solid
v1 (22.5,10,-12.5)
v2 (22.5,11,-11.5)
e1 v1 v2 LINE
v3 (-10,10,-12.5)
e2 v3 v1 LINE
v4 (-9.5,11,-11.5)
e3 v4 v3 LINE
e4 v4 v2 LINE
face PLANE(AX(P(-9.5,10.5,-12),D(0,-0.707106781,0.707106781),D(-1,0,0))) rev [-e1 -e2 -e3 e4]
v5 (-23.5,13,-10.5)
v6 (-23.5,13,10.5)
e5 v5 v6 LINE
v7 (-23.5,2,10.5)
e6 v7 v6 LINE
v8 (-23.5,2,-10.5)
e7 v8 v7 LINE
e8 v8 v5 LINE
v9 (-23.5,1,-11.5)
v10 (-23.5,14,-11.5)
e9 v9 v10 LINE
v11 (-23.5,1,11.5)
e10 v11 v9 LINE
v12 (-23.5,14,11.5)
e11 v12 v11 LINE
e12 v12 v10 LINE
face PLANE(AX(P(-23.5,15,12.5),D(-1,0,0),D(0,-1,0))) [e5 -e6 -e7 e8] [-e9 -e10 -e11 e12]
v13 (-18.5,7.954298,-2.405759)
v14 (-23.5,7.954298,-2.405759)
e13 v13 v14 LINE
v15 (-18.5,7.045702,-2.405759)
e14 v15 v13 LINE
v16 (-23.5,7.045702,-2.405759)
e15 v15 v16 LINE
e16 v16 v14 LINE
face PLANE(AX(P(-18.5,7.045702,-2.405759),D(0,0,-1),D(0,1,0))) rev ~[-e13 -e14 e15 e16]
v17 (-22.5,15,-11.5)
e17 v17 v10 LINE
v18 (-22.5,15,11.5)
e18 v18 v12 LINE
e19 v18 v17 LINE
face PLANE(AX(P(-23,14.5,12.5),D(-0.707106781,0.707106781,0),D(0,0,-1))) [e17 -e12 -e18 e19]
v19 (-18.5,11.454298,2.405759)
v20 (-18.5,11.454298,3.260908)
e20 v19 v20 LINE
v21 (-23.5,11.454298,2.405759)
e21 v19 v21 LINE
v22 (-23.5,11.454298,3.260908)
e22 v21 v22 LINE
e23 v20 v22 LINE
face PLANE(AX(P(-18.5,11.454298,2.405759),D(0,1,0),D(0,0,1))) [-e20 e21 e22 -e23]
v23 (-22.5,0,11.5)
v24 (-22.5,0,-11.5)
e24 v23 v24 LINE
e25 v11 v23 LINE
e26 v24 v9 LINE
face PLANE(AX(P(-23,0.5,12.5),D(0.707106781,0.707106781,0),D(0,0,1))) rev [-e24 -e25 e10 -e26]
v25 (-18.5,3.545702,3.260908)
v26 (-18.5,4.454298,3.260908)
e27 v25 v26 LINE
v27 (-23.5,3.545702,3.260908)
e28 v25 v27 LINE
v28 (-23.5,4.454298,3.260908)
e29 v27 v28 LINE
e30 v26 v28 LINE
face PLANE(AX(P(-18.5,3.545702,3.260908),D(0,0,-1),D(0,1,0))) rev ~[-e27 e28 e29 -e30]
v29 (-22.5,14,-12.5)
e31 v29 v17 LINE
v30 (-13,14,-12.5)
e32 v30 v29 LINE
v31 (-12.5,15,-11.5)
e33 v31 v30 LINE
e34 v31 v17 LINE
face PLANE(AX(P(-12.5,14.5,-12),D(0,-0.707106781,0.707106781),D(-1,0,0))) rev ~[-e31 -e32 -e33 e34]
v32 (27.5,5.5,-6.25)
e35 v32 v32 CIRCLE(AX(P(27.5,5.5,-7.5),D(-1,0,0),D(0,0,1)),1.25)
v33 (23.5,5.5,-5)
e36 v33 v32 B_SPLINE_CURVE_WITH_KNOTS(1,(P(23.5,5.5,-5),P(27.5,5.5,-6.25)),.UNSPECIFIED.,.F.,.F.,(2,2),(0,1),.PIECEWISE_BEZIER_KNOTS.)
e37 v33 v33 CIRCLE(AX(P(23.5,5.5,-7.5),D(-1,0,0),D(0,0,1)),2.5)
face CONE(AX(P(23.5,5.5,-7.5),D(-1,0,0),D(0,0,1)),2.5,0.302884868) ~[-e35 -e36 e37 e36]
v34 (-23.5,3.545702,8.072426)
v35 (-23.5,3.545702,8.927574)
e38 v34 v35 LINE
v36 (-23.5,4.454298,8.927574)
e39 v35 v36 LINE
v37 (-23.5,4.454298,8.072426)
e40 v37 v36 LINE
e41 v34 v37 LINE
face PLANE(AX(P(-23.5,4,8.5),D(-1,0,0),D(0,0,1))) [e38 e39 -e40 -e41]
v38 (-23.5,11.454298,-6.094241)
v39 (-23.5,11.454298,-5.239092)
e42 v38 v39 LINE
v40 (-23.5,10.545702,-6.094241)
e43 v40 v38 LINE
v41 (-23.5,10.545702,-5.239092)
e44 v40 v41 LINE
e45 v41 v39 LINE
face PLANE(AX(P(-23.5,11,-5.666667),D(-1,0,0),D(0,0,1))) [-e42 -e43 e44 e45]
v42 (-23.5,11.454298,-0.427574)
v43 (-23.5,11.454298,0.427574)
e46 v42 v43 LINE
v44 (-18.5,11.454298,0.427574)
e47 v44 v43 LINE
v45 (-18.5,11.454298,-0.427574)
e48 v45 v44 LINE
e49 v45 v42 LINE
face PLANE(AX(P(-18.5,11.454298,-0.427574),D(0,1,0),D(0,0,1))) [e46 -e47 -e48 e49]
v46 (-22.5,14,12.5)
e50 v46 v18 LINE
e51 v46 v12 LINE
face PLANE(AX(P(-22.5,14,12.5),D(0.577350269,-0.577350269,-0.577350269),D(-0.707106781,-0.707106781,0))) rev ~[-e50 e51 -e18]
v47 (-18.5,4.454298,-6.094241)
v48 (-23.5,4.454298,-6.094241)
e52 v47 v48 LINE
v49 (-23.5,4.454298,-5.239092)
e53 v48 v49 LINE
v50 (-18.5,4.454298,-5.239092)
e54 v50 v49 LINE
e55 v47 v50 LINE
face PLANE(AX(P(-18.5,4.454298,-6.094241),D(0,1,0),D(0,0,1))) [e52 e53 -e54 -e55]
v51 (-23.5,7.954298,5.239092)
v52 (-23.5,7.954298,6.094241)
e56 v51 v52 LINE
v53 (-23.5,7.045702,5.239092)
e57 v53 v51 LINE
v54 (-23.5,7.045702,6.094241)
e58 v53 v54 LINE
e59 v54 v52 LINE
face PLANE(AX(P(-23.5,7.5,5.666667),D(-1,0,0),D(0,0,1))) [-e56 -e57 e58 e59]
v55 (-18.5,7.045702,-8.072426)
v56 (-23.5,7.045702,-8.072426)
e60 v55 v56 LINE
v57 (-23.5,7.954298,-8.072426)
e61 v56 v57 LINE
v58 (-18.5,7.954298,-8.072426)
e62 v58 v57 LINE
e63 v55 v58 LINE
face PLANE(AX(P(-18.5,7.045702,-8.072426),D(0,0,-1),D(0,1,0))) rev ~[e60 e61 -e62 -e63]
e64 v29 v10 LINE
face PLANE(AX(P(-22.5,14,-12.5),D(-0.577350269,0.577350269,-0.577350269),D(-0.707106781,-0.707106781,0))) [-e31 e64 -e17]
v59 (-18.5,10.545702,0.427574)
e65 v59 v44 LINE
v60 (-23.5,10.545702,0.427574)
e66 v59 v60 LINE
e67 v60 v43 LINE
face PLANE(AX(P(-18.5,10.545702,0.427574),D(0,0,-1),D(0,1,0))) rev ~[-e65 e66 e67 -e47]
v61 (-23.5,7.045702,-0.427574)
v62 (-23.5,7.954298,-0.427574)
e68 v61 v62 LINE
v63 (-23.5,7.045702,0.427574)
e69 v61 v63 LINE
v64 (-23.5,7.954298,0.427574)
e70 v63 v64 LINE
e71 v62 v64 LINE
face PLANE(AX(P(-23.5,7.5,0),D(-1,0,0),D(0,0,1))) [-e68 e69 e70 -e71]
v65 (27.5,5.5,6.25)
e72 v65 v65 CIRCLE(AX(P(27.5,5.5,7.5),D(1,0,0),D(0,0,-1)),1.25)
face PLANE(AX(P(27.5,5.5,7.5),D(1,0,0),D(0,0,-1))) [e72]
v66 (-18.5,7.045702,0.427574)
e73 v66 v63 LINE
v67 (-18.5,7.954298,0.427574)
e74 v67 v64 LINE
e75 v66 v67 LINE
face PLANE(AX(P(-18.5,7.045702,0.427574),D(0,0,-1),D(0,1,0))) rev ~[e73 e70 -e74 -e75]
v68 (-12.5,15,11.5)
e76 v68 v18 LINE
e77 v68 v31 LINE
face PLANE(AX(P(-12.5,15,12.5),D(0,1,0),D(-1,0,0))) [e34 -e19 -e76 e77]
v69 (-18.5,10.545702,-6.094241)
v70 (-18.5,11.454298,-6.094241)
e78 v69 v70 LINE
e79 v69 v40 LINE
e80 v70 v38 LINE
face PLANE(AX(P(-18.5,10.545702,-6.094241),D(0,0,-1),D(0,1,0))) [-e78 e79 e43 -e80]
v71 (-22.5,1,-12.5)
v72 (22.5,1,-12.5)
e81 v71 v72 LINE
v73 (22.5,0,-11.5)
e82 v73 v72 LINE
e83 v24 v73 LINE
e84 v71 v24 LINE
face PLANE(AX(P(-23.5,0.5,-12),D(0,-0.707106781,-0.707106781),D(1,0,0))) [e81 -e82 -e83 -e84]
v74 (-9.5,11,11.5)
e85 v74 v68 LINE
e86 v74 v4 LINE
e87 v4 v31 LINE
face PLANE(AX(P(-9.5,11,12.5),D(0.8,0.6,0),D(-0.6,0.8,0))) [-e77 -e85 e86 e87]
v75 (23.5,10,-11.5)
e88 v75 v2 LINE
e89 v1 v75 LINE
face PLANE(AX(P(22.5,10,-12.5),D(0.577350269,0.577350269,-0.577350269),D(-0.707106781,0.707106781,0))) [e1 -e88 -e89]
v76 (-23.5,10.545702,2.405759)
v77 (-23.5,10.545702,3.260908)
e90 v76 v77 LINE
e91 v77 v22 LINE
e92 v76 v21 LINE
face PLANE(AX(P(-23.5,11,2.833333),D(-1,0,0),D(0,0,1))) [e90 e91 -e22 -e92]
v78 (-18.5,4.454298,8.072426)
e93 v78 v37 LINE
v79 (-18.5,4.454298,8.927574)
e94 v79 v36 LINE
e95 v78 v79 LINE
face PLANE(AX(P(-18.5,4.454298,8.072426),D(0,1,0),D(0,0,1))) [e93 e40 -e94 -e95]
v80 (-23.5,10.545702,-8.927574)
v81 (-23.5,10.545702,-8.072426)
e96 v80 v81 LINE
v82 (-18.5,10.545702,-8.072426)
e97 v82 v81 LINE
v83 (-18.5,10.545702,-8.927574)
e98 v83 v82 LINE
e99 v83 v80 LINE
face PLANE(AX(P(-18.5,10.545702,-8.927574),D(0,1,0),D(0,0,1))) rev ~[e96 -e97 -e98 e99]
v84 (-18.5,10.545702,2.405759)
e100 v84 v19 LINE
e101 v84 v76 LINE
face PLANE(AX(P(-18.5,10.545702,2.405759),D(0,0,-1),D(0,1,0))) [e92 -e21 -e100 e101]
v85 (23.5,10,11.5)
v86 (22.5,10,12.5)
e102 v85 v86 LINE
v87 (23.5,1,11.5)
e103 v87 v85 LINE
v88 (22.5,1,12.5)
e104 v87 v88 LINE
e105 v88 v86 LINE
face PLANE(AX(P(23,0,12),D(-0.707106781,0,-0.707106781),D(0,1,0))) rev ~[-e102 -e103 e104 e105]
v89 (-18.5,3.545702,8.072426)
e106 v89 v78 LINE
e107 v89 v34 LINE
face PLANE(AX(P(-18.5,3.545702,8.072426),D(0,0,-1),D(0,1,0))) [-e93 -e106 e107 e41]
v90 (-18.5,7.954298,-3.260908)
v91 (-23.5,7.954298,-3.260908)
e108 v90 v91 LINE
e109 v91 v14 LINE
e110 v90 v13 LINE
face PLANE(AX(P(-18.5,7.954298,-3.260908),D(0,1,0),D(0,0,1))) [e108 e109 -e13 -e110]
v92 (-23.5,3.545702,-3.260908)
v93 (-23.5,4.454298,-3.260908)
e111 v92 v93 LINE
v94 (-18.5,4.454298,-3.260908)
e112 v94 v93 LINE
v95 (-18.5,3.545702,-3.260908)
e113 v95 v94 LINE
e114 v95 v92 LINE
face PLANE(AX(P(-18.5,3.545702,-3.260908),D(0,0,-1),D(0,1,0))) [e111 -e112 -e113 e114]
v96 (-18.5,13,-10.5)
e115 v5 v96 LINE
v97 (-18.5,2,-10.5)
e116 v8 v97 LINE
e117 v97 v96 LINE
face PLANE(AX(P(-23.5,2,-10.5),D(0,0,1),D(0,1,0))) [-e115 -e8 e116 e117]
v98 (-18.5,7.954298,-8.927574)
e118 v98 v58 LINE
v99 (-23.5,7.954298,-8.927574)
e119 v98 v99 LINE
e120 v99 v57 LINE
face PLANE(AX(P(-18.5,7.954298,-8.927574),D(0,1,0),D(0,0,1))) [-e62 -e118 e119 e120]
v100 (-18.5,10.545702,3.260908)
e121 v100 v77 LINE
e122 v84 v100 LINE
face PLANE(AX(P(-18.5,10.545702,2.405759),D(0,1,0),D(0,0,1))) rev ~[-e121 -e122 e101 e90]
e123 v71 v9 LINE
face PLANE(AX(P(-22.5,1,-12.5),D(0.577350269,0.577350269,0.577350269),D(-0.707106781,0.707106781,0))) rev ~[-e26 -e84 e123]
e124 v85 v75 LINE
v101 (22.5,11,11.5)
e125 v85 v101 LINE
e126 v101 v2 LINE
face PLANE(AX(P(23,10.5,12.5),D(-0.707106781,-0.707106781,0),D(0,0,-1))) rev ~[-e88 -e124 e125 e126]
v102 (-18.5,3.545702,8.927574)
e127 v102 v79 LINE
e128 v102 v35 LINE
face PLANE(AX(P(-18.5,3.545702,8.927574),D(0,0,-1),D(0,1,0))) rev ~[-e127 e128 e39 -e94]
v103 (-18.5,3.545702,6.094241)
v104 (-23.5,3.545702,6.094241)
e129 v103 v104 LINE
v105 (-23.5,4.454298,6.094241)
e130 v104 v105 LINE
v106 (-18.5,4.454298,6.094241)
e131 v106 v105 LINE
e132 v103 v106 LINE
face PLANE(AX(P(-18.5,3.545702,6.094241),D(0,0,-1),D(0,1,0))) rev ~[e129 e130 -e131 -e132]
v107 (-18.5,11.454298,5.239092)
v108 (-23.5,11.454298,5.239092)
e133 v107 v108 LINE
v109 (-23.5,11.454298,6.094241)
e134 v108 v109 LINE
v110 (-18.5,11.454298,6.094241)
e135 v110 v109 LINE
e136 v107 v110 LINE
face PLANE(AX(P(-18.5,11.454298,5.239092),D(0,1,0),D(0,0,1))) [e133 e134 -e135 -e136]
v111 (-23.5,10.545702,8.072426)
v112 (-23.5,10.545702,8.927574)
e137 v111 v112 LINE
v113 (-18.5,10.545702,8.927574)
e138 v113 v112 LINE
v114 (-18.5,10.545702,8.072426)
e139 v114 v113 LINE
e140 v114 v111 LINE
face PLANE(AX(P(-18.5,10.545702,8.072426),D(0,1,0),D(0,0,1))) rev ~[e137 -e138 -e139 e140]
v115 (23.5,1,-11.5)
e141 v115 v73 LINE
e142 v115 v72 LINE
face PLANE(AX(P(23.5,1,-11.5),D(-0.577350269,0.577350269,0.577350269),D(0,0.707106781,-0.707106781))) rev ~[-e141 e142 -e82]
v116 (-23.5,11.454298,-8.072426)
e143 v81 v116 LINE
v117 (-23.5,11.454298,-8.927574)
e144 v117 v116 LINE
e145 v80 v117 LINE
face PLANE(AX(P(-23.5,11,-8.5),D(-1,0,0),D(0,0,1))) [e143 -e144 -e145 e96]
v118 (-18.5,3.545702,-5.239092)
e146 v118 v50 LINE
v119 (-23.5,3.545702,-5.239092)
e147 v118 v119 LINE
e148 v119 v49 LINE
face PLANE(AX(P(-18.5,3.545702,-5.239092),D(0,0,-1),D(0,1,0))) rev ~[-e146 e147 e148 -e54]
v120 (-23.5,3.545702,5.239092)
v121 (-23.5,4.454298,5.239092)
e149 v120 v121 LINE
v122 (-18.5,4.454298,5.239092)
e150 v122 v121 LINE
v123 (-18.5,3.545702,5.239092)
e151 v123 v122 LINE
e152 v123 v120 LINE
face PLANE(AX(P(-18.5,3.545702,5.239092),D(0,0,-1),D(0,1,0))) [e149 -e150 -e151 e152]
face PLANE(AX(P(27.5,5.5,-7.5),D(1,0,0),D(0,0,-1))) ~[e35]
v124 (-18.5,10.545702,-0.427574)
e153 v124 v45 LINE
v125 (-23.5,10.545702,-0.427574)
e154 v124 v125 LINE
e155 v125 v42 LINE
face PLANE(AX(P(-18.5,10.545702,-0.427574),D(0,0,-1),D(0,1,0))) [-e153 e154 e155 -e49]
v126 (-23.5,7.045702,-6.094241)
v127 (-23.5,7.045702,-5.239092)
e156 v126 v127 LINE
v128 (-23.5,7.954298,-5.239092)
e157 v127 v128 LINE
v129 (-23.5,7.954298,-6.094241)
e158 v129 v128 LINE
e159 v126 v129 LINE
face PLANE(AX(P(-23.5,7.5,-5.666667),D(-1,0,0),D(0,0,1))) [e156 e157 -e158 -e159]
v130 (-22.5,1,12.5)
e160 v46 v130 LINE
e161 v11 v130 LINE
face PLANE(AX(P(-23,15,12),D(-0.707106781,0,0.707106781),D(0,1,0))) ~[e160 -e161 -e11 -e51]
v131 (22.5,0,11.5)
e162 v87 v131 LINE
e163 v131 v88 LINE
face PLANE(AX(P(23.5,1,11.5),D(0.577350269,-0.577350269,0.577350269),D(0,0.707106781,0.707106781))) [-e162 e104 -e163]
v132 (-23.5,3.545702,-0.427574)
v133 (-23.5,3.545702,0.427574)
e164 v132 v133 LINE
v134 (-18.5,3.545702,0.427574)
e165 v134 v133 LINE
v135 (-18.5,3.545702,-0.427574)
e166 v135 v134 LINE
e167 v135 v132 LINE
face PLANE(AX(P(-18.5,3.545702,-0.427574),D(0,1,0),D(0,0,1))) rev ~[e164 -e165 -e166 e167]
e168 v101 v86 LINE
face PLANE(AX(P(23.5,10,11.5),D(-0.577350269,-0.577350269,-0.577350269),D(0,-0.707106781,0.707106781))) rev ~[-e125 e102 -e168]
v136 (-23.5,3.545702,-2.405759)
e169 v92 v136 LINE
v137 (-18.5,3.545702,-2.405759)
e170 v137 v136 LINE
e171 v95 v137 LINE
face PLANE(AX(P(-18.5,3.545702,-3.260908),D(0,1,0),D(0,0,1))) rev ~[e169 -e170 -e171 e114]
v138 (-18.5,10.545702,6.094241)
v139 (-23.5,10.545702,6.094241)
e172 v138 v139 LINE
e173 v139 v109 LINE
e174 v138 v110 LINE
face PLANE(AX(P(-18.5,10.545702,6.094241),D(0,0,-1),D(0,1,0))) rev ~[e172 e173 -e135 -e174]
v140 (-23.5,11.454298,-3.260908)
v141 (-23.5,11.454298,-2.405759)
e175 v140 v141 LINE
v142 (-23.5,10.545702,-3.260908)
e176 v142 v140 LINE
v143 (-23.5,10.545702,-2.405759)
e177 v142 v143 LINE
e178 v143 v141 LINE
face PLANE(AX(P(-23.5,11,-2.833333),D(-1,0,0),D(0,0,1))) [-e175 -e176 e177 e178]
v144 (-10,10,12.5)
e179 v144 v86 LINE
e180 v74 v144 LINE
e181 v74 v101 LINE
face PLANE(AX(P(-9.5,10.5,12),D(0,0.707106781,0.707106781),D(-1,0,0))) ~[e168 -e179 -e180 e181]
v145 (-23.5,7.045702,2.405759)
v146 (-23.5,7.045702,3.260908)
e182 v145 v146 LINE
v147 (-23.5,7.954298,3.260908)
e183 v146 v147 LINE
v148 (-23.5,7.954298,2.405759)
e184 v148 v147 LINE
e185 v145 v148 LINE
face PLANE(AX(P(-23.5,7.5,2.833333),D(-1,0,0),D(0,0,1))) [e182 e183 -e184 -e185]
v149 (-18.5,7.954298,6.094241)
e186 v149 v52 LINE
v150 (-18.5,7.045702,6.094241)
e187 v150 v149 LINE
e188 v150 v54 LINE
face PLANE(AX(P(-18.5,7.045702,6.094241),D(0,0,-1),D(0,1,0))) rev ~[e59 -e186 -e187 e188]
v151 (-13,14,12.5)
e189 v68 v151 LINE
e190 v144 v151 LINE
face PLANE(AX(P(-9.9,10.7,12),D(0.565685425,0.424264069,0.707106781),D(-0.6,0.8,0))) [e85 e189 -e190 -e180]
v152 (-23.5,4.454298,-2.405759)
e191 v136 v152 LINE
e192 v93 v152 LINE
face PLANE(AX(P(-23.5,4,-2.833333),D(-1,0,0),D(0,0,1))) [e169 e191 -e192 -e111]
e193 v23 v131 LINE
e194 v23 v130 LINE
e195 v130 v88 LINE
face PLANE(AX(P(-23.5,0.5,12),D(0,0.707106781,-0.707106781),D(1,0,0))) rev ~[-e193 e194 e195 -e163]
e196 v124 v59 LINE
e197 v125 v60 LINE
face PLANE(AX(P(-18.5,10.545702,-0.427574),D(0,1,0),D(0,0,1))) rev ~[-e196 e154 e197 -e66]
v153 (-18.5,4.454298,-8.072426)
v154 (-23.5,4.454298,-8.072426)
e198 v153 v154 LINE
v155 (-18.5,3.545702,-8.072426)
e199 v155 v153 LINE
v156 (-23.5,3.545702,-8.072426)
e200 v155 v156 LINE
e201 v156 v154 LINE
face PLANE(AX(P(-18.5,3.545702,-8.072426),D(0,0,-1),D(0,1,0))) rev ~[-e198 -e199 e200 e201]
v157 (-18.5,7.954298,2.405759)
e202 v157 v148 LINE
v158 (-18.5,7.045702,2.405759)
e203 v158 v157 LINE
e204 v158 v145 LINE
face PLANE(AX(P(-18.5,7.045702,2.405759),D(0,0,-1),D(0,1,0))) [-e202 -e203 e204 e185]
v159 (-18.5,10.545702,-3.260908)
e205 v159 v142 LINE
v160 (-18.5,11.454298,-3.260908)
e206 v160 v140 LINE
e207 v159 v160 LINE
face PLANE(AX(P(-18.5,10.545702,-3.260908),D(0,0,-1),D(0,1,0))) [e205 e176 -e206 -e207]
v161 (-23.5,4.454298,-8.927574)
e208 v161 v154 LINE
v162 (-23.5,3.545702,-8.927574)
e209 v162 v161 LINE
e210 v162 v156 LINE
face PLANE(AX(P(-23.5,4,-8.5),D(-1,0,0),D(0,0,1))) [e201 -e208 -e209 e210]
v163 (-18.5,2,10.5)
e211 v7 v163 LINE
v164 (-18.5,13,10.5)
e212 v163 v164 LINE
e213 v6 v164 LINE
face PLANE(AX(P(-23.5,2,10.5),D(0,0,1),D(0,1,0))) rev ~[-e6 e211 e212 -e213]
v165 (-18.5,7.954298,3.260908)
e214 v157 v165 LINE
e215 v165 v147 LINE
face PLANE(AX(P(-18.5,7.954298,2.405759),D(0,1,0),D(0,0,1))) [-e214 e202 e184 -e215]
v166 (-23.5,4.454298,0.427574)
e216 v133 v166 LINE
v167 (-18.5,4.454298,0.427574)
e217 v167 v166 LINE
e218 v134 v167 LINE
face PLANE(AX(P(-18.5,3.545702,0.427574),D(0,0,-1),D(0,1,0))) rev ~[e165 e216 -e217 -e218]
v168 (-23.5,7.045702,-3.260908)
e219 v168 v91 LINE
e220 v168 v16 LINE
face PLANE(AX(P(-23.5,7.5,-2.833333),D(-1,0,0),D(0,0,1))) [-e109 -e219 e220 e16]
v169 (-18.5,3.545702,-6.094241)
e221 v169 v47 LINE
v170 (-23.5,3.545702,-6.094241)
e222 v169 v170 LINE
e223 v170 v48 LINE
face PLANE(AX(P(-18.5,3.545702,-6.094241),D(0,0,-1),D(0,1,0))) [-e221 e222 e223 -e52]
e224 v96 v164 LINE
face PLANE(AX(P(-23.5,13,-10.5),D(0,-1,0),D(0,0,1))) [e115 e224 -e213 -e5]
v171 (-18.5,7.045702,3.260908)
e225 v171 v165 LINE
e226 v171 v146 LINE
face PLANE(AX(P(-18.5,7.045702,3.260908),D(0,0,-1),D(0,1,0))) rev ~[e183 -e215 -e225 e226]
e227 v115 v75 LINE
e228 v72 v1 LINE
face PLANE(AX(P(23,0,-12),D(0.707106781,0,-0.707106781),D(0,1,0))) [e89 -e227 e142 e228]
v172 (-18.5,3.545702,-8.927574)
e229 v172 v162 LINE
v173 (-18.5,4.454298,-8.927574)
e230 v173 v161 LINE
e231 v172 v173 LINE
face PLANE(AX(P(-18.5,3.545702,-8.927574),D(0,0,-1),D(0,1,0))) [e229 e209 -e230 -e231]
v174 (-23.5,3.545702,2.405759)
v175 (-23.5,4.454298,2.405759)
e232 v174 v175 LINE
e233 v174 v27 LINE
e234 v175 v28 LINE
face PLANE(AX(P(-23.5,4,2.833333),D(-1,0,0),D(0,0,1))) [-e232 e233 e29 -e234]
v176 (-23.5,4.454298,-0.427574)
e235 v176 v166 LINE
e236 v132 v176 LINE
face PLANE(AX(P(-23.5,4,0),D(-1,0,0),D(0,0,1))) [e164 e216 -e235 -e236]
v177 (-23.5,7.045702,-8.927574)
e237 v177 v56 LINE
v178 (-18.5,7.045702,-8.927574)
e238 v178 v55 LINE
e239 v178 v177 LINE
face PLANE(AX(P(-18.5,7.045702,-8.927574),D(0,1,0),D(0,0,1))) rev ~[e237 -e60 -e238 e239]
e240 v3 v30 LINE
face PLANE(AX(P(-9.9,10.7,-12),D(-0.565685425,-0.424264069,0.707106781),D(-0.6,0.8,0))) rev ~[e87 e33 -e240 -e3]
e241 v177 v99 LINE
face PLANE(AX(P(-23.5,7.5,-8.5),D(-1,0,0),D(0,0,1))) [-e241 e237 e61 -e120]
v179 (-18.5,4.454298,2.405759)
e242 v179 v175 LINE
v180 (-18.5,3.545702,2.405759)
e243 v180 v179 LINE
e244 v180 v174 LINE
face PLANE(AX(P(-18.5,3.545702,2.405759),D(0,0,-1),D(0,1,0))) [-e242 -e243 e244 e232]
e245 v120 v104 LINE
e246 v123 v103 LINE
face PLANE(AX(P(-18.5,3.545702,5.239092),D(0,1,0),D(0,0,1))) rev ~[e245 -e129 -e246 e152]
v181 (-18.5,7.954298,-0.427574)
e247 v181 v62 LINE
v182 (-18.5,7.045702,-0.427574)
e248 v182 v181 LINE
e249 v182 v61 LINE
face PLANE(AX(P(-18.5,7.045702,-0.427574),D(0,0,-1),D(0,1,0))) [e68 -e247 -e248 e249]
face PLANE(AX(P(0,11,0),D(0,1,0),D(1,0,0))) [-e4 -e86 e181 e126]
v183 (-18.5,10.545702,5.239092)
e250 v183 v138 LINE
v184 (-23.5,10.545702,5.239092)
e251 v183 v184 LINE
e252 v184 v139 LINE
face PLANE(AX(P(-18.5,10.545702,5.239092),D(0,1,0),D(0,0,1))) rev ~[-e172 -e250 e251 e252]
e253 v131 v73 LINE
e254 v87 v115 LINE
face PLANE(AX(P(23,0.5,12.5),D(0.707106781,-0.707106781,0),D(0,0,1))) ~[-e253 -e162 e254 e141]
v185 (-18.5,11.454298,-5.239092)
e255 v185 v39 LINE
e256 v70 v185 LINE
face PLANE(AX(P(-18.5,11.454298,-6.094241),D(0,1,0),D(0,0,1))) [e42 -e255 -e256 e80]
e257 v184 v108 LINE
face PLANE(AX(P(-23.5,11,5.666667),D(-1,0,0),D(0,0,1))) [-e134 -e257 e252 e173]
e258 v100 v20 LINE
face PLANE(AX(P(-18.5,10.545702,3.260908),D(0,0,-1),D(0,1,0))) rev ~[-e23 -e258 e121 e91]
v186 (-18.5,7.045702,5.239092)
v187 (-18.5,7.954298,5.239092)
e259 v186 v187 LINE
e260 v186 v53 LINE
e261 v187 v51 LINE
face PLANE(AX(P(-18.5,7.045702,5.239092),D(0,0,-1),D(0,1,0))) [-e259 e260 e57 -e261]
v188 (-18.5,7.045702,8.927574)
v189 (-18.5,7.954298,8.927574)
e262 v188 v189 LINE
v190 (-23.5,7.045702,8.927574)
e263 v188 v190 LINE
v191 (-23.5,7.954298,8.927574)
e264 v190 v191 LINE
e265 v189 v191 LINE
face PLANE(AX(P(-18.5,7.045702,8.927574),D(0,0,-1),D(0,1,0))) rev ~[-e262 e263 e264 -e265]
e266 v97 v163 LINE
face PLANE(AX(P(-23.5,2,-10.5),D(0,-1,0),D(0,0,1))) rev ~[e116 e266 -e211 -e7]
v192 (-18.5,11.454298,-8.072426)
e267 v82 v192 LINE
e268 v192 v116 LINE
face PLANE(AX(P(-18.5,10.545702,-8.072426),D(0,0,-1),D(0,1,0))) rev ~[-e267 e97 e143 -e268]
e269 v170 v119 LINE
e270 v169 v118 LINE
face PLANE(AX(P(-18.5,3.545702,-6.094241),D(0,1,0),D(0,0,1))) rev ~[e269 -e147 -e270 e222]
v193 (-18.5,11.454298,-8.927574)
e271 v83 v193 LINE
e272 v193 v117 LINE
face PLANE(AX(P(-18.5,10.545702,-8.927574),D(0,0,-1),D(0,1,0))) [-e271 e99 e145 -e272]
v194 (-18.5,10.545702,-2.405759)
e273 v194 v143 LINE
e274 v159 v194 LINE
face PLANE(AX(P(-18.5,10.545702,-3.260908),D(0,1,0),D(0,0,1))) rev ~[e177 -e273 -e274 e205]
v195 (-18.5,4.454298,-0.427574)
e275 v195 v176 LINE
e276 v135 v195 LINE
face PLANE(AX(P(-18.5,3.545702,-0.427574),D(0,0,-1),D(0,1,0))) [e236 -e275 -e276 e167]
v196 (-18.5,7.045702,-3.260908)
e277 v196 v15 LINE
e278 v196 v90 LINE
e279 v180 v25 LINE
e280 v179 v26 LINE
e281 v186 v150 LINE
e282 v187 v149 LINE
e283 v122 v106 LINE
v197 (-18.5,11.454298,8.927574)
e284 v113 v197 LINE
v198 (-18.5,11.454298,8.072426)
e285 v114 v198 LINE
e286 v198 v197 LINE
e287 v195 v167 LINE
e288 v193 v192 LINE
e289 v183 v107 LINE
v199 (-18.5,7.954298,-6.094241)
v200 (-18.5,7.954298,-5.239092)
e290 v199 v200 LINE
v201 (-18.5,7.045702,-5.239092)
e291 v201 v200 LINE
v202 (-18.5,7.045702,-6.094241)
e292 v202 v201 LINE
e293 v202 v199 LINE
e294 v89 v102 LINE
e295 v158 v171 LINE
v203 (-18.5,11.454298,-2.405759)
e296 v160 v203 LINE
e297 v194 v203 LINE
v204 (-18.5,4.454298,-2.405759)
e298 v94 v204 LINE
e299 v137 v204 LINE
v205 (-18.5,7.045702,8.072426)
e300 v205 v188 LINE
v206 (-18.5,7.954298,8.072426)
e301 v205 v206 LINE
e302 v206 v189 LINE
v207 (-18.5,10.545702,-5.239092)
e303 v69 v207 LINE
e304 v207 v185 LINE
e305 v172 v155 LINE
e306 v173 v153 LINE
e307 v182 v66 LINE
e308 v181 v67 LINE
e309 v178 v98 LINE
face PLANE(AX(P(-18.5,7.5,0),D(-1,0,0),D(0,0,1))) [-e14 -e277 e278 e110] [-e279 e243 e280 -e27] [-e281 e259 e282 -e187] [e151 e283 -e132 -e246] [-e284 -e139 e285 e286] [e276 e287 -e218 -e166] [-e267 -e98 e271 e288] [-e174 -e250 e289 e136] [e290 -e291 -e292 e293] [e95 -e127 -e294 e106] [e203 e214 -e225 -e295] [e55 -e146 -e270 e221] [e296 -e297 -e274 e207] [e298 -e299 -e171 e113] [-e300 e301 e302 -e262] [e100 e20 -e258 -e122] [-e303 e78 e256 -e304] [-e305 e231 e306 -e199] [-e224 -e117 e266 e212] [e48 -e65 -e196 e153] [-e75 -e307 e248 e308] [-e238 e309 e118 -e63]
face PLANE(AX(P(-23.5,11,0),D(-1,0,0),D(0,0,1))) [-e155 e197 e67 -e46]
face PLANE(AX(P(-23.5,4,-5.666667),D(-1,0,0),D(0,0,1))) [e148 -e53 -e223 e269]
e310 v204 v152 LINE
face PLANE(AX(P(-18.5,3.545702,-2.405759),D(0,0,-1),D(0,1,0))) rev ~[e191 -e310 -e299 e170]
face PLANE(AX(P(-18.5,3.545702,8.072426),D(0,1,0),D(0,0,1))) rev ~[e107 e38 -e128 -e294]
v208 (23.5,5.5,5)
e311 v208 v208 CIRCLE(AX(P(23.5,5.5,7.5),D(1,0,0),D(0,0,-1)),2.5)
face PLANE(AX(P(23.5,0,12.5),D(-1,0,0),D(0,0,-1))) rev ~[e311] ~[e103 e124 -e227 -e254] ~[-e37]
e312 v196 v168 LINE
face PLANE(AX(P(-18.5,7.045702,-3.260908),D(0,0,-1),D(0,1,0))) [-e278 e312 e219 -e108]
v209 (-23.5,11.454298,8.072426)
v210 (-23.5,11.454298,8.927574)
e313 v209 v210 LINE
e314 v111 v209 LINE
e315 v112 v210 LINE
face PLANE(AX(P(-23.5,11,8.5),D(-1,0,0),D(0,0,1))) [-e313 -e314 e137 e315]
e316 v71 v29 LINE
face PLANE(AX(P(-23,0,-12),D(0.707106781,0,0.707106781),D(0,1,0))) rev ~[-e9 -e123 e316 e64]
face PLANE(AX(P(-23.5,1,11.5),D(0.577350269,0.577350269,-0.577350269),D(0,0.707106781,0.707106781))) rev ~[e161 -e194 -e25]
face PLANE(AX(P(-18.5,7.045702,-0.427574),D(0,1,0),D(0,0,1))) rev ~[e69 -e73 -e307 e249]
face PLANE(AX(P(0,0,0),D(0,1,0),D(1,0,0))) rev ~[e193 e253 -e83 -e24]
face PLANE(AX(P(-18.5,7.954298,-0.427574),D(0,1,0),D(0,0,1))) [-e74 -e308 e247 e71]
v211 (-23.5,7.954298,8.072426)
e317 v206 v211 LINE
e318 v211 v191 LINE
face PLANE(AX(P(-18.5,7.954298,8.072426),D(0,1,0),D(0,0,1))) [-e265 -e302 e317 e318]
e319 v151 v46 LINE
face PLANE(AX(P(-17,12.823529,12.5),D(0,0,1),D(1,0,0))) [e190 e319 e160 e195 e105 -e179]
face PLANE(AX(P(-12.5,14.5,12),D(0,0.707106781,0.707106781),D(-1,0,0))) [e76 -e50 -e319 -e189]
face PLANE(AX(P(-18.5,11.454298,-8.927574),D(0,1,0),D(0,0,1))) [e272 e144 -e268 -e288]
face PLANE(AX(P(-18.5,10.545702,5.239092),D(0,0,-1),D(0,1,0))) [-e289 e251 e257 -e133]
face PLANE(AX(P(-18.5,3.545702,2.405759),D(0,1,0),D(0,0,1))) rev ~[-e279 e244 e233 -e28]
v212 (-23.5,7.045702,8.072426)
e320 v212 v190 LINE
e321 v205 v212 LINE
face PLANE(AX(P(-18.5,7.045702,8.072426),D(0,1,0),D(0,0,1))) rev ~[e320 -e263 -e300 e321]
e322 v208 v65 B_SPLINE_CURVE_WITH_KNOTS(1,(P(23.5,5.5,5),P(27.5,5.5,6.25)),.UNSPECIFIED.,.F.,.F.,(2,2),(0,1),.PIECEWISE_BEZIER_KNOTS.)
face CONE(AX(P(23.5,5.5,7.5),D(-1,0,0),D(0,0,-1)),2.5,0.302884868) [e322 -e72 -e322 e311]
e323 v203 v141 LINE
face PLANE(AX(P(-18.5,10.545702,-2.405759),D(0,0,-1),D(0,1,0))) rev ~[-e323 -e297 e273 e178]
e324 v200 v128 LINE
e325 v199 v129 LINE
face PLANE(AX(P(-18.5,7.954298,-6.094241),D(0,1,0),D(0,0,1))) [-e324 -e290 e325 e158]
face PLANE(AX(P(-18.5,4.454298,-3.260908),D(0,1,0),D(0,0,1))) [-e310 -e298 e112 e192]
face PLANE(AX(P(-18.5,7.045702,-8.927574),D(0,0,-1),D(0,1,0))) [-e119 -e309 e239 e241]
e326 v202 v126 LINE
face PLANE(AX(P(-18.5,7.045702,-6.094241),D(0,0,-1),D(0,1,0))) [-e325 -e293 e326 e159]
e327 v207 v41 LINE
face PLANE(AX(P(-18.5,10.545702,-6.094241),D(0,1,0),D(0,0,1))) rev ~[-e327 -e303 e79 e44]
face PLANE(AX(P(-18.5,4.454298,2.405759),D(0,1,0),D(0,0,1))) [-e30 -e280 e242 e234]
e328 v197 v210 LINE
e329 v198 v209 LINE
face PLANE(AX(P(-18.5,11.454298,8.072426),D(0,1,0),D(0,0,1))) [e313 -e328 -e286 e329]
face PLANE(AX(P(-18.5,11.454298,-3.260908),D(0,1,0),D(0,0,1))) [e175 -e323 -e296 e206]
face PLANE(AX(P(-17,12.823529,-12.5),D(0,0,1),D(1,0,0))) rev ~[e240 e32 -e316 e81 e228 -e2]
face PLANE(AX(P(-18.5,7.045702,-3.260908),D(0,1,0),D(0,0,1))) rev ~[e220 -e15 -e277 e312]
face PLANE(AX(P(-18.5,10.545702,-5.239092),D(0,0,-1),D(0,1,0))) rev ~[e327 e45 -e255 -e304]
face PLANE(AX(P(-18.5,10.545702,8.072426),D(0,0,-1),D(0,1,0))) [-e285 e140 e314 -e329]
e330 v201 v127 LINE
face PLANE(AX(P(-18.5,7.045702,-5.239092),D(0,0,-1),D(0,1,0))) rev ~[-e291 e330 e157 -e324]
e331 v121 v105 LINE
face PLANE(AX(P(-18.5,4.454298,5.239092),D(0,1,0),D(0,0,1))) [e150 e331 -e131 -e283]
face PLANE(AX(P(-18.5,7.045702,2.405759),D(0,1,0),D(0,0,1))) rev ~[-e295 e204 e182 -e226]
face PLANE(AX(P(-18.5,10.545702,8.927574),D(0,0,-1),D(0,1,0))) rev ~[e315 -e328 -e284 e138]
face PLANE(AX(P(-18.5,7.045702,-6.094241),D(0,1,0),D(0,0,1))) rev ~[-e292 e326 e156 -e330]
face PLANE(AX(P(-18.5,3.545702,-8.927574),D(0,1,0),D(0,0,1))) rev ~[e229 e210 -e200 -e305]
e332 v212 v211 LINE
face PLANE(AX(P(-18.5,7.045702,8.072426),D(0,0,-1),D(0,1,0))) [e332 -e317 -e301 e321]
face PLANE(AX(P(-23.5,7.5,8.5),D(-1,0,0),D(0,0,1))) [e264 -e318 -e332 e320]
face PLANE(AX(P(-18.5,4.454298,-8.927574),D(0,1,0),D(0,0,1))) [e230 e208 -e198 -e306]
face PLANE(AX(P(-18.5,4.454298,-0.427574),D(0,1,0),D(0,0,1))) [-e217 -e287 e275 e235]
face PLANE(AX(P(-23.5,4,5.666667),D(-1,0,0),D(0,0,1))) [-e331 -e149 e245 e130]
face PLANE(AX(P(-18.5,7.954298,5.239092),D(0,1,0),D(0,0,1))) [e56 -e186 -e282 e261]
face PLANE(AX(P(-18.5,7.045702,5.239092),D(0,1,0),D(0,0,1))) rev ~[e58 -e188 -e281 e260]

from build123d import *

# Parameters (mm, degrees)
SKETCH2_W            = 47
SKETCH2_H            = 25
BOSS_EXTRUDE1_DEPTH  = 11
BOSS_EXTRUDE2_DEPTH  = 25
SKETCH4_W            = 21
SKETCH4_H            = 11
CUT_EXTRUDE1_DEPTH   = 5
SKETCH5_R            = 2.5
SKETCH6_R            = 1.25
CHAMFER1_SIZE        = 1
SKETCH7_W            = 0.855148952
SKETCH7_H            = 0.908595762
BOSS_EXTRUDE3_DEPTH  = 5
LPATTERN1_COUNT      = 7
LPATTERN1_PITCH      = 2.833333333
LPATTERN1_COUNT_DIR2 = 3
LPATTERN1_PITCH_DIR2 = 3.5


with BuildPart() as part:
    # Sketch2 → Boss-Extrude1 (new body)
    with BuildSketch(Plane(origin=(0, 0, 0), x_dir=(1, 0, 0), z_dir=(0, 1, 0))):
        Rectangle(SKETCH2_W, SKETCH2_H)
    extrude(amount=BOSS_EXTRUDE1_DEPTH)

    # Sketch3 → Boss-Extrude2 (add)
    with BuildSketch(Plane.XY.offset(12.5)):
        Polygon((-23.5, 11), (-9.5, 11), (-12.5, 15), (-23.5, 15), align=None)
    extrude(amount=-BOSS_EXTRUDE2_DEPTH)

    # Sketch4 → Cut-Extrude1 (cut)
    with BuildSketch(Plane.ZY.offset(23.5)):
        with Locations((0, 7.5)):
            Rectangle(SKETCH4_W, SKETCH4_H)
    extrude(amount=-CUT_EXTRUDE1_DEPTH, mode=Mode.SUBTRACT)

    # Sketch5 → Loft1 section 0
    with BuildSketch(Plane(origin=(23.5, 0, 0), x_dir=(0, 0, -1), z_dir=(1, 0, 0))):
        with Locations((-7.5, 5.5)):
            Circle(SKETCH5_R)
    # Sketch6 → Loft1 section 1
    with BuildSketch(Plane(origin=(27.5, 0, 0), x_dir=(0, 0, -1), z_dir=(1, 0, 0))):
        with Locations((-7.5, 5.5)):
            Circle(SKETCH6_R)
    loft1 = loft()

    # Mirror1: Loft1 across plane
    add(loft1.mirror(Plane.XY))

    # Chamfer1
    chamfer1_edges = [part.edges().sort_by_distance(p)[0] for p in [
        (7, 11, 12.5),
        (-23.5, 15, 0),
        (-11, 13, 12.5),
        (-18, 15, 12.5),
        (-18, 15, -12.5),
        (-11, 13, -12.5),
        (23.5, 11, 0),
        (0, 0, 12.5),
        (-23.5, 0, 0),
        (0, 0, -12.5),
        (23.5, 0, 0),
        (23.5, 5.5, 12.5),
        (-23.5, 7.5, 12.5),
        (-23.5, 7.5, -12.5),
        (23.5, 5.5, -12.5),
        (7, 11, -12.5),
    ]]
    chamfer(chamfer1_edges, length=CHAMFER1_SIZE)

    # Sketch7 → Boss-Extrude3 (add)
    with BuildSketch(Plane.ZY.offset(18.5)):
        with Locations((-8.5, 4)):
            Rectangle(SKETCH7_W, SKETCH7_H)
    boss_extrude3 = extrude(amount=BOSS_EXTRUDE3_DEPTH)

    # LPattern1: Boss-Extrude3 7 × 3
    with Locations(*[(0, j * LPATTERN1_PITCH_DIR2, i * LPATTERN1_PITCH) for i in range(LPATTERN1_COUNT) for j in range(LPATTERN1_COUNT_DIR2) if (i, j) != (0, 0)]):
        add(boss_extrude3)


solid = part.part
